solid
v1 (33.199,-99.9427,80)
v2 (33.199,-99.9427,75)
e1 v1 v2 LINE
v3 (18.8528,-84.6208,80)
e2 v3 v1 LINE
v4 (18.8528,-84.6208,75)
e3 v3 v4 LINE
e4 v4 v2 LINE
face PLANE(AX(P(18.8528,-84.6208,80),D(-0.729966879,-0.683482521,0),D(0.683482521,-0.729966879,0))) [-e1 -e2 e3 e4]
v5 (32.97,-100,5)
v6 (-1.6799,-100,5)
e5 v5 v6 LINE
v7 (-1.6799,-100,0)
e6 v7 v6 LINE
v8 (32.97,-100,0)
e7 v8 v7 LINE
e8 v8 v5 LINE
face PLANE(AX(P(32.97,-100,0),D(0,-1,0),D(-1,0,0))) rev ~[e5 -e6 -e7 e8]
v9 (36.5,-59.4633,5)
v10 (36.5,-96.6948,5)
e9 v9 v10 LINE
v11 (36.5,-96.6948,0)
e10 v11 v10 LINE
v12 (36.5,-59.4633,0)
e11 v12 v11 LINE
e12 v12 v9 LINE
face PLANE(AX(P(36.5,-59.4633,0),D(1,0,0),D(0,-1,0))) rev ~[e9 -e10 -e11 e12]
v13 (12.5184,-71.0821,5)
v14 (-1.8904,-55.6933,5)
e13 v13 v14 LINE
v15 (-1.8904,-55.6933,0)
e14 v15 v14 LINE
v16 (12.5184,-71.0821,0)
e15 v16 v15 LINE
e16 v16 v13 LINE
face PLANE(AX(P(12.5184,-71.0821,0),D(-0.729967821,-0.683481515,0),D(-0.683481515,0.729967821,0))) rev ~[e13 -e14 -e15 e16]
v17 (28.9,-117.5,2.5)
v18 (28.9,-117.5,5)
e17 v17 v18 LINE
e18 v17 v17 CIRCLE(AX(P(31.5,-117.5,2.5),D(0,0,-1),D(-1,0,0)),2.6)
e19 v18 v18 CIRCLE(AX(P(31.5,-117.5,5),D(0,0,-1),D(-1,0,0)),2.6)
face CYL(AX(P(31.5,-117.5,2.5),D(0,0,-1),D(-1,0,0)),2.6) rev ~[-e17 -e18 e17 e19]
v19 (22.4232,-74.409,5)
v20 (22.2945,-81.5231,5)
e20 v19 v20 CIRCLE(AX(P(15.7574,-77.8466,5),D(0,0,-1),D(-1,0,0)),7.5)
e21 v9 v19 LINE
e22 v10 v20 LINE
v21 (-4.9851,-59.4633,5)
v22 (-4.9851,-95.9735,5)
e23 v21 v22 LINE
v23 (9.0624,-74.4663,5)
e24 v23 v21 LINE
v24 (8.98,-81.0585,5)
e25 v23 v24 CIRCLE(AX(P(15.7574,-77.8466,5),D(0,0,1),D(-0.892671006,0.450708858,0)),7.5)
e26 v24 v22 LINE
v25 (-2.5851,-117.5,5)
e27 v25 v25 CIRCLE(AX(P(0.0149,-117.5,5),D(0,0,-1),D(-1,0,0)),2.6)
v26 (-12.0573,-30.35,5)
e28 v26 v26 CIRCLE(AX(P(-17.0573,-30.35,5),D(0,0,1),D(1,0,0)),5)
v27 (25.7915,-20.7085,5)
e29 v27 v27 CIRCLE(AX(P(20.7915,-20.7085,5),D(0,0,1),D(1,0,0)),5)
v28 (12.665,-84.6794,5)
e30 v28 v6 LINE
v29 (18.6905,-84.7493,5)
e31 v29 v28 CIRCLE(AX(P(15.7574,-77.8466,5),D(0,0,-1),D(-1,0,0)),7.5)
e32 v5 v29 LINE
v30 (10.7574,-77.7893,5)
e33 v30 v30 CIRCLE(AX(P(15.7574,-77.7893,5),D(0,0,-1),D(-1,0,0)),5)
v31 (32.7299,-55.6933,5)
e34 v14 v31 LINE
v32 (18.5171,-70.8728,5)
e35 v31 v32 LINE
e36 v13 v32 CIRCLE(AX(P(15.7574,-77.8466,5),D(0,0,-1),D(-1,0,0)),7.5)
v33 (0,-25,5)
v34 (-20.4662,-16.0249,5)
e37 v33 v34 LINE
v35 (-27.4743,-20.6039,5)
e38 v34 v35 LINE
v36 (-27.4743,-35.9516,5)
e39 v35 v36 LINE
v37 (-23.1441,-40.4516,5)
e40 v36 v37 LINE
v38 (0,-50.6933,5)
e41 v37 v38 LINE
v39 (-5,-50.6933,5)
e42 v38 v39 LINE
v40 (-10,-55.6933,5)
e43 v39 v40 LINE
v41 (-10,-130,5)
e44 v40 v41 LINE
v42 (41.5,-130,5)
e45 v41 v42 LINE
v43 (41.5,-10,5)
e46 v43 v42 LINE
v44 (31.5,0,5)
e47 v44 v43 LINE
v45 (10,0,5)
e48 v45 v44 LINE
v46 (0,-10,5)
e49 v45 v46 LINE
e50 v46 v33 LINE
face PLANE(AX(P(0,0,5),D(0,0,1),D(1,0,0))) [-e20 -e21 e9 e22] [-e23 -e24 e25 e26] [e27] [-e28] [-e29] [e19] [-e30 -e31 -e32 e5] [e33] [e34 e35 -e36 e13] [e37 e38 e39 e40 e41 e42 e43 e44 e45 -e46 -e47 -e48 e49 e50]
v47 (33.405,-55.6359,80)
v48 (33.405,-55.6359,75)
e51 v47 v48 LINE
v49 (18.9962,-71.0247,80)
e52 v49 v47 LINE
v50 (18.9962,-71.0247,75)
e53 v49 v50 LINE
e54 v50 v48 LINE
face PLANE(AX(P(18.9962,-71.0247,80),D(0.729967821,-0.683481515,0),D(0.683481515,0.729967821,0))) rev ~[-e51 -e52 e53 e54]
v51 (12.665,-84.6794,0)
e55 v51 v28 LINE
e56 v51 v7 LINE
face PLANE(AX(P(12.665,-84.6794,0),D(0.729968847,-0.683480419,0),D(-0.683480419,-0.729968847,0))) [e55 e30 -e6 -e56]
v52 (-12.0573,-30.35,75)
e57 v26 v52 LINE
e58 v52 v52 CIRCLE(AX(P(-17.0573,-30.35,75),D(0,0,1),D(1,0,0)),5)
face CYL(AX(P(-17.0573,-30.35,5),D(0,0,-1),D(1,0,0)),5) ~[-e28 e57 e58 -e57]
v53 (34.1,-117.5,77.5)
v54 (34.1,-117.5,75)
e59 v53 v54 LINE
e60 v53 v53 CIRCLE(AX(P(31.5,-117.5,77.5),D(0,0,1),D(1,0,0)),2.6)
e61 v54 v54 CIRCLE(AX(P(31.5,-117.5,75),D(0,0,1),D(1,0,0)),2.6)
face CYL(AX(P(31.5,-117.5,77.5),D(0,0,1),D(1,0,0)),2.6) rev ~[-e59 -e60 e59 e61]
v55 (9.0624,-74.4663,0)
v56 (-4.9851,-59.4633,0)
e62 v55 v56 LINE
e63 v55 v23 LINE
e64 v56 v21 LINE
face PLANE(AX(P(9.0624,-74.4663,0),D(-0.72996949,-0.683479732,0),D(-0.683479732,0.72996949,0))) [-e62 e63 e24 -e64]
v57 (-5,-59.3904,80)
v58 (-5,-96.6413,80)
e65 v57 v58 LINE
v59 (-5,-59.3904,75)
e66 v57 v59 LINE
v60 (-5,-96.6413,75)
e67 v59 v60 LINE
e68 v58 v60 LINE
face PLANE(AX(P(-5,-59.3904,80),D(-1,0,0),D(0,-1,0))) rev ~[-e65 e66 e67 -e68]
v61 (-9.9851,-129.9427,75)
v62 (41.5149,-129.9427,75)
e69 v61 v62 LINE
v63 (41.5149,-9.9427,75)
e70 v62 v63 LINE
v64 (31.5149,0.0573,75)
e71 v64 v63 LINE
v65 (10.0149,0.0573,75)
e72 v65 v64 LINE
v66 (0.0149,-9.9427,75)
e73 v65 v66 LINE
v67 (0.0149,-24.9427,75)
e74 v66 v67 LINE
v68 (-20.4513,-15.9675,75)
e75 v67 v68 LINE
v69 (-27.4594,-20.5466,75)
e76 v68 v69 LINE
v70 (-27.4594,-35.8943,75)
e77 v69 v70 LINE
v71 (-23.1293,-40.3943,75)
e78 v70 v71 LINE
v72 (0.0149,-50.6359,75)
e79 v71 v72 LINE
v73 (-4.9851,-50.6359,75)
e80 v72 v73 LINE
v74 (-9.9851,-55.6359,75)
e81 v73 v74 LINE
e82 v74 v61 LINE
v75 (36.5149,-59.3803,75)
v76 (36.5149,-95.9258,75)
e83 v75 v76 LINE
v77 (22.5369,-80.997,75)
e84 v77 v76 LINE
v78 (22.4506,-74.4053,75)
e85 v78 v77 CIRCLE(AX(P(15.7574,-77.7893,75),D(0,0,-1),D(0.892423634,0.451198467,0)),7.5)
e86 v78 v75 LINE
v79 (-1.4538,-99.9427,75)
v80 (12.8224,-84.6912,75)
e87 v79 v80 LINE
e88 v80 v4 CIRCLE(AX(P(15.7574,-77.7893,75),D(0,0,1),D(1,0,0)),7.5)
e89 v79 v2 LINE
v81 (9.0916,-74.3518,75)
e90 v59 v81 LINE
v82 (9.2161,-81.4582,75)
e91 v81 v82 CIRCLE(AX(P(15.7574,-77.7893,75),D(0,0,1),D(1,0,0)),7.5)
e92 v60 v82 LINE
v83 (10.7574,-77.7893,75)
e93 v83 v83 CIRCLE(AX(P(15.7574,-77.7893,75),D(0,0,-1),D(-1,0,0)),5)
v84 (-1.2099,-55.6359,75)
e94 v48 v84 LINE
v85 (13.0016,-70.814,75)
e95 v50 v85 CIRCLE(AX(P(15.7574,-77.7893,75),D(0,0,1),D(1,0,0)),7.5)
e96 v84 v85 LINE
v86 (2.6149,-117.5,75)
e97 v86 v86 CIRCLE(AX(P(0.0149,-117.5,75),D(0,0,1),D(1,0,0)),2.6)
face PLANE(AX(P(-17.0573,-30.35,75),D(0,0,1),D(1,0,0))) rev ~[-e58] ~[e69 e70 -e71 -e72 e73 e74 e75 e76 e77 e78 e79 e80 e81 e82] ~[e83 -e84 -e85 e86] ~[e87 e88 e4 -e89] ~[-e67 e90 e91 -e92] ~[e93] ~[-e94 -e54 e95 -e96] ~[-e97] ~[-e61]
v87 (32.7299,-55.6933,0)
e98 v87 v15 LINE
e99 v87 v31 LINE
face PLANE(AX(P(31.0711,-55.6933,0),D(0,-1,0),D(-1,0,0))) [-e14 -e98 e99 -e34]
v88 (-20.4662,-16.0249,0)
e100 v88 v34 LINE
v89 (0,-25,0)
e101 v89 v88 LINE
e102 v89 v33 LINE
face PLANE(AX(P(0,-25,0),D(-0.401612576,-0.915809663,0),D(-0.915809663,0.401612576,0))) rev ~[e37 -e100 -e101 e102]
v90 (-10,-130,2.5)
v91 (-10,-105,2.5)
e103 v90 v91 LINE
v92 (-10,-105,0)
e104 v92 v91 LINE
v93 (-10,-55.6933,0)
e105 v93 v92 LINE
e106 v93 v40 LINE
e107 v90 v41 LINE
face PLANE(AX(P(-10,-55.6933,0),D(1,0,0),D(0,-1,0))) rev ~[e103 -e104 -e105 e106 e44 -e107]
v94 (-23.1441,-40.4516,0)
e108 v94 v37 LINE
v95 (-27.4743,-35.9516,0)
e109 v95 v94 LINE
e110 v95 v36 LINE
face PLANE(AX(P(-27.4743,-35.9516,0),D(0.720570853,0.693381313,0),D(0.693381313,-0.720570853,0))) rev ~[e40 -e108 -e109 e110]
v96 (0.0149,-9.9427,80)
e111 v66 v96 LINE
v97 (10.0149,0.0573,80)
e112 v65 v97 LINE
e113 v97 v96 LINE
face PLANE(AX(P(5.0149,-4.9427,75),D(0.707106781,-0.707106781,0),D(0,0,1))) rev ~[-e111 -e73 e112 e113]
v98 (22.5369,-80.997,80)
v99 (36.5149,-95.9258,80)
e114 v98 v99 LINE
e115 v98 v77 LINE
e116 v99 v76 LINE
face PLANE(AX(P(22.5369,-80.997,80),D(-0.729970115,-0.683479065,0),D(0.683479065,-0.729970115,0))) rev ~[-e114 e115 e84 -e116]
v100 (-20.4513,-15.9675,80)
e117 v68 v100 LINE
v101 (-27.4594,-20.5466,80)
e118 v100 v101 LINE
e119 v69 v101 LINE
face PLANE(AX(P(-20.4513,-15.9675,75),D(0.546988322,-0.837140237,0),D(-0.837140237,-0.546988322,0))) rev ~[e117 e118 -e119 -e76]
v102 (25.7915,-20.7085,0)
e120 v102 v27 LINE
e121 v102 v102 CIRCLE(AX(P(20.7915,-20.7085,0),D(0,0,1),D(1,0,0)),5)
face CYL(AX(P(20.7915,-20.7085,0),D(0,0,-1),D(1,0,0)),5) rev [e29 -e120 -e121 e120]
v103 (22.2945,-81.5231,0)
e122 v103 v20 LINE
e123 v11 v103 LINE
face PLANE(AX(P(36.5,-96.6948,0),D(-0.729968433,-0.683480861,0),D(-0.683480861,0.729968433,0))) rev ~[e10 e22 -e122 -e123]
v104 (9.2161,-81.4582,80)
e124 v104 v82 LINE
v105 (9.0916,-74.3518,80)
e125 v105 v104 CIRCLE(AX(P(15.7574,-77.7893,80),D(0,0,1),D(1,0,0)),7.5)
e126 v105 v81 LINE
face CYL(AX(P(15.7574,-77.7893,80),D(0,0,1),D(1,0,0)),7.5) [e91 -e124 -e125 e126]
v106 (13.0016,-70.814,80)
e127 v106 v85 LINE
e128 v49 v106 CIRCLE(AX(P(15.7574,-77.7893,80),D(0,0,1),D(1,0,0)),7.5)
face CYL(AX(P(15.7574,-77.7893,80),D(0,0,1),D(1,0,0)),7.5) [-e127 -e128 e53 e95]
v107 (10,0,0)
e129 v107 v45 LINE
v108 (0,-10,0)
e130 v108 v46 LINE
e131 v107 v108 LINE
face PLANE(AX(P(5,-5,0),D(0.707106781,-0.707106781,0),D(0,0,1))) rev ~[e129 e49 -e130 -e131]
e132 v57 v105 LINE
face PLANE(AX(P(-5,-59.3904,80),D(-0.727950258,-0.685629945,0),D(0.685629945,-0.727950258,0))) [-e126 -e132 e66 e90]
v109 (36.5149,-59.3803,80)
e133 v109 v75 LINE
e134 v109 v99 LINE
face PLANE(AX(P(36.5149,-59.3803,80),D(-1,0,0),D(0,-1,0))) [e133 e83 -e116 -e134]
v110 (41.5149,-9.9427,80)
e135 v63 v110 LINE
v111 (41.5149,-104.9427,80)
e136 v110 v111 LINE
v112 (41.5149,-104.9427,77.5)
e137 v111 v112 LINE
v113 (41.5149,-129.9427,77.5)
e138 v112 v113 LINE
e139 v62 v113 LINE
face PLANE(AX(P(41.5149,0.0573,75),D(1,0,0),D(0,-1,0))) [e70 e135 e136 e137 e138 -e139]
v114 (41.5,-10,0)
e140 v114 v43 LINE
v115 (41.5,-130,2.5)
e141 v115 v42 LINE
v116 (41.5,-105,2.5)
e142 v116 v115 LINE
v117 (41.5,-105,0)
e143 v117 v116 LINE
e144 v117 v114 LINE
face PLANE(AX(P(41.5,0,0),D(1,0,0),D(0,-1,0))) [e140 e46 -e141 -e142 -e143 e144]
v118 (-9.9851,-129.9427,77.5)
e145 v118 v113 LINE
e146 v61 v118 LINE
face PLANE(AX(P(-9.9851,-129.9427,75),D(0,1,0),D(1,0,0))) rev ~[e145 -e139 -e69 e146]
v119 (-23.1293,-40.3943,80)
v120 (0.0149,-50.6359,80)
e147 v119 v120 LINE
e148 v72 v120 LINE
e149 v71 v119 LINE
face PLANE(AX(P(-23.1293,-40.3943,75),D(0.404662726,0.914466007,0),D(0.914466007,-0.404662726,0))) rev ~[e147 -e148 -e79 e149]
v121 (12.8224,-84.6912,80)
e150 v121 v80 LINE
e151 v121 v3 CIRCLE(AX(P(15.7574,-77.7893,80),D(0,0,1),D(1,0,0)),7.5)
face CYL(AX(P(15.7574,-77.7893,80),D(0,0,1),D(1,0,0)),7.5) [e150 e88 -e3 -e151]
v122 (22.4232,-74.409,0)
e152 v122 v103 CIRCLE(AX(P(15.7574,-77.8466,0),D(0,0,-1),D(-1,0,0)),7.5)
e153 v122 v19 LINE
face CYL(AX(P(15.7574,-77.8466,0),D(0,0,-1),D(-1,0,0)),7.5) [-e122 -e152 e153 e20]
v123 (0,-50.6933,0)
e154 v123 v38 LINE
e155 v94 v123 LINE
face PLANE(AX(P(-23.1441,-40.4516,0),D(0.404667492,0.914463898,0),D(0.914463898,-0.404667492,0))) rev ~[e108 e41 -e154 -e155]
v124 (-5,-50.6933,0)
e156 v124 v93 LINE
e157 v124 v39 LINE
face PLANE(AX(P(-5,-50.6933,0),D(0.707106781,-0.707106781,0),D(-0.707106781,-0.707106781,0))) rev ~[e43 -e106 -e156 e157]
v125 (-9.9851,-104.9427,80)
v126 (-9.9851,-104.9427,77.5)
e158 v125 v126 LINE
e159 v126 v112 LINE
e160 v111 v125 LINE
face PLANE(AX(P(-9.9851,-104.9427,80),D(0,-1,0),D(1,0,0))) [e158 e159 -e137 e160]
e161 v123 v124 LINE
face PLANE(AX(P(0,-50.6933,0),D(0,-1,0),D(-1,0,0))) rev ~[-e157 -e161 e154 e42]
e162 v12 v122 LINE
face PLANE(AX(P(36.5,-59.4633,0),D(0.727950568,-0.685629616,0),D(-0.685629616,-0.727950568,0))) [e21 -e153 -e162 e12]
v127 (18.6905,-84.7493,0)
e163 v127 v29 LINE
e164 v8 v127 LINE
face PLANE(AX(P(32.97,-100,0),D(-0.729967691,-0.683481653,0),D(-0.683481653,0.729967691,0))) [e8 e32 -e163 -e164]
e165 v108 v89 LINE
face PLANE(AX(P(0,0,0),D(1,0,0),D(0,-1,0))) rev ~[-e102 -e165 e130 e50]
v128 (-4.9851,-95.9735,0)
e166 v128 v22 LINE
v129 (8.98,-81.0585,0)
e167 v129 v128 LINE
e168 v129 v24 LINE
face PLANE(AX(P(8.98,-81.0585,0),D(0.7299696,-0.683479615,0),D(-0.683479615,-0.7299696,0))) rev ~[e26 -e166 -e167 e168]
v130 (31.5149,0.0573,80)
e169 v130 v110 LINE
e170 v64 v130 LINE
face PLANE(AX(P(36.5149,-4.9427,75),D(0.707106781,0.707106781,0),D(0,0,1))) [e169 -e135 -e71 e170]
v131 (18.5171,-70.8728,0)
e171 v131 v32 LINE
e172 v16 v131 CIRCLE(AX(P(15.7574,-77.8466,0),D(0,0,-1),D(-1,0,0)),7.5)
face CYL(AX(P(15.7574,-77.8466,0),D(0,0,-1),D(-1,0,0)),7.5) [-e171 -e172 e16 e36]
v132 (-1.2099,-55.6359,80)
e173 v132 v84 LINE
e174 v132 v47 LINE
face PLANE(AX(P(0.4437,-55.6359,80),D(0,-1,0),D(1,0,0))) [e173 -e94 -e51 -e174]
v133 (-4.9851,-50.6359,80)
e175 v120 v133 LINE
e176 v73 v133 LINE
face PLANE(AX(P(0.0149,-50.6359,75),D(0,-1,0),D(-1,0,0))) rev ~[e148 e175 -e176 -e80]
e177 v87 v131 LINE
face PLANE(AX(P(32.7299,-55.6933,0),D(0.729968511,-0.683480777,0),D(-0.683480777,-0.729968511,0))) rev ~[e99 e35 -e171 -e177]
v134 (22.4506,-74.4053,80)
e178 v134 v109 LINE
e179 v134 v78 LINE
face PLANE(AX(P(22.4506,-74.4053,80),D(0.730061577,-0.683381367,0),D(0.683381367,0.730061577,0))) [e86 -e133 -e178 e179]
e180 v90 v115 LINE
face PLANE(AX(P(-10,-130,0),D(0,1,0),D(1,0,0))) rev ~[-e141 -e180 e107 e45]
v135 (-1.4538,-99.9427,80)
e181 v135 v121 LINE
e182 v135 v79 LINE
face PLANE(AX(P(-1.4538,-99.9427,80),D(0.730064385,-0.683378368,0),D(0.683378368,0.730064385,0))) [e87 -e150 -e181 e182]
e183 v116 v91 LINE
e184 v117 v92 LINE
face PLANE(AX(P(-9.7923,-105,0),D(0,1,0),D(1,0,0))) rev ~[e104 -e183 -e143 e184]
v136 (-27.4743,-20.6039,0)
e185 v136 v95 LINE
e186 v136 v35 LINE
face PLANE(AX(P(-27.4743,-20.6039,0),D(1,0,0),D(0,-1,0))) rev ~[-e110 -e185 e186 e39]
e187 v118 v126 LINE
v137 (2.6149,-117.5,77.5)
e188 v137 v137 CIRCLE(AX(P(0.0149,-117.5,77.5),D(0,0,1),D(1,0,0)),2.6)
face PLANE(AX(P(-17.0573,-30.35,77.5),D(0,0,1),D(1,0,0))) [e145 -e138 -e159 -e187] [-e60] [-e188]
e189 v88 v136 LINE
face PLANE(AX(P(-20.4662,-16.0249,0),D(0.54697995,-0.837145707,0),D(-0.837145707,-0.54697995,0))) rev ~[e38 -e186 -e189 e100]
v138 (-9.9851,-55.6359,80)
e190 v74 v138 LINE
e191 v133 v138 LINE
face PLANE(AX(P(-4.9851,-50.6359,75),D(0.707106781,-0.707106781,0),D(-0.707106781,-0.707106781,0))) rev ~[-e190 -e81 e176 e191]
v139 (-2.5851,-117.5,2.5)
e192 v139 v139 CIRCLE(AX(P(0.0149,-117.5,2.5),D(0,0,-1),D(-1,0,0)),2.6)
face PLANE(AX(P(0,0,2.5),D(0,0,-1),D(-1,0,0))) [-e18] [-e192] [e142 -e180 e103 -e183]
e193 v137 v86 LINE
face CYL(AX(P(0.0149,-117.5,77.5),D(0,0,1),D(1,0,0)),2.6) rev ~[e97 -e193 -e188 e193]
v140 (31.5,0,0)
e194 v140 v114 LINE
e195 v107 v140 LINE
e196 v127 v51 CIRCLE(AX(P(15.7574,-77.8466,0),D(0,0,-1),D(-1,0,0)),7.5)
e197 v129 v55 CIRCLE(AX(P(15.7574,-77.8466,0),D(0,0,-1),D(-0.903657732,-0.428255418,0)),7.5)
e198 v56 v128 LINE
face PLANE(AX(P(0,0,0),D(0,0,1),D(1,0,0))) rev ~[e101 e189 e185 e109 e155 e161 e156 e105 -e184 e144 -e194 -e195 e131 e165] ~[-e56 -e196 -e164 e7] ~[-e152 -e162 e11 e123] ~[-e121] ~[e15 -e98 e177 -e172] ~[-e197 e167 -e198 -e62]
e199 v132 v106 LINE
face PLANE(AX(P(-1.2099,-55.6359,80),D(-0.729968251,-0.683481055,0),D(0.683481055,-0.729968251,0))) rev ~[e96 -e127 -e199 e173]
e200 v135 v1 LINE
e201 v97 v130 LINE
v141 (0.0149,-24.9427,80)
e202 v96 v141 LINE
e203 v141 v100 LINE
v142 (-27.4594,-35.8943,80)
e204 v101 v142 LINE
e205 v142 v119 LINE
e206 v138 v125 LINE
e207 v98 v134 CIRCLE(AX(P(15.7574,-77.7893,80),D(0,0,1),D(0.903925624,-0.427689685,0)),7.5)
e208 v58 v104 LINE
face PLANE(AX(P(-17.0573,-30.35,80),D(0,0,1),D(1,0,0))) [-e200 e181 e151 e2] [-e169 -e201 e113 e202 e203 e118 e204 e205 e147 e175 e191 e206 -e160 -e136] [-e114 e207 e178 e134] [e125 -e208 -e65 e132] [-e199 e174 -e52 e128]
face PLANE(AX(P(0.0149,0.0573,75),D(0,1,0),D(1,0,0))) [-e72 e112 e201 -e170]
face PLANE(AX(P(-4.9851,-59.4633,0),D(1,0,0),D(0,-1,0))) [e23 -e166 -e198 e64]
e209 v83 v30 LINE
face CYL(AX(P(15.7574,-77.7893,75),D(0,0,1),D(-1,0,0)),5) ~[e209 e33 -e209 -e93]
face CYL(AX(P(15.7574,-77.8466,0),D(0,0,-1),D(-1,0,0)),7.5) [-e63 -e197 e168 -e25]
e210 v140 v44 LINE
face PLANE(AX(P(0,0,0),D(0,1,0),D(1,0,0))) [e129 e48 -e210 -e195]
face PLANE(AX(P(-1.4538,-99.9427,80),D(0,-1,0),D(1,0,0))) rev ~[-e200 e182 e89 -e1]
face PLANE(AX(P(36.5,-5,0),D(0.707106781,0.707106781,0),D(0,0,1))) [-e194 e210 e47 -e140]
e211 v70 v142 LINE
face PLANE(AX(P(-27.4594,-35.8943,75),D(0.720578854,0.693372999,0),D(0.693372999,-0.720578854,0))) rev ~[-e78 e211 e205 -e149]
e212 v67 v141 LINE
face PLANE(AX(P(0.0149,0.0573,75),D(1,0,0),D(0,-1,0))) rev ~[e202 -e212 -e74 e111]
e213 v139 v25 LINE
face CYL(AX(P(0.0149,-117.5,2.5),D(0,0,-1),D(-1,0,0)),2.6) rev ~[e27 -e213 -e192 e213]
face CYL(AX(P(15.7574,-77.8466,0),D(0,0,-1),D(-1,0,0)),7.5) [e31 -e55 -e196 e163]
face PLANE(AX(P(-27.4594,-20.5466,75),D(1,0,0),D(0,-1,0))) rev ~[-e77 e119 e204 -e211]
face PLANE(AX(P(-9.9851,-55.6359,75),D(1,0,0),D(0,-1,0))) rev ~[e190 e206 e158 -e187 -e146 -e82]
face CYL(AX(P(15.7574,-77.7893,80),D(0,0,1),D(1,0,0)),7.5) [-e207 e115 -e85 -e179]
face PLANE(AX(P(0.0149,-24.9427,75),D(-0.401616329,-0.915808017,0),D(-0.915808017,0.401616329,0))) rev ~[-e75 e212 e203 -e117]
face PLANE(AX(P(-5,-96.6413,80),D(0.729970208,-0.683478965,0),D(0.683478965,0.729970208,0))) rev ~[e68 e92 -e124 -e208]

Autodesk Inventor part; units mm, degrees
ref_plane "YZ Plane" through (0, 0, 0) normal (1, 0, 0) x (0, 1, 0)
ref_plane "XZ Plane" through (0, 0, 0) normal (0, 1, 0) x (-1, 0, 0)
ref_plane "XY Plane" through (0, 0, 0) normal (0, 0, 1) x (1, 0, 0)
sketch "Esquisse2" plane through (0, 0, 0) normal (0, 0, 1) x (1, 0, 0)
  line L0 (0, 0) -> (41.5, 0)
  line L1 (41.5, 0) -> (41.5, -41.5)
  line L2 (0, 0) -> (41.5, -41.5) construction
  circle A0 centre (20.7915, -20.7085) radius 5
  line L3 (0, -25) -> (-20.4662, -16.0249)
  line L4 (-27.4743, -20.6039) -> (-27.4743, -35.9516)
  line L5 (-27.4743, -35.9516) -> (-23.1441, -40.4516)
  line L6 (0, 0) -> (0, -25)
  line L7 (-23.1441, -40.4516) -> (0, -50.6933)
  line L8 (-20.4662, -16.0249) -> (-27.4743, -20.6039)
  line L9 (41.5, -41.5) -> (41.5, -50.6933)
  line L10 (0, -50.6933) -> (-5, -50.6933)
  line L11 (-10, -55.6933) -> (-10, -130)
  line L12 (-10, -130) -> (41.5, -130)
  line L13 (41.5, -130) -> (41.5, -50.6933)
  line L14 (-5, -50.6933) -> (-10, -55.6933)
  point P0 (-10, -50.6933)
  dimension "d0" = 41.5
  dimension "d1" = 41.5
  dimension "d2" = 10
  dimension "d32" = 25
  dimension "d45" = 10
  dimension "d46" = 5
  dimension "d47" = 5
  dimension "d48" = 130
extrude "Extrusion3" add sketch "Esquisse2" along normal blind 5
sketch "Esquisse4" plane through (0, 0, 5) normal (0, 0, 1) x (1, 0, 0)
  circle A0 centre (-17.0573, -30.35) radius 5
  line L0 (0, -25) -> (-20.4662, -16.0249) projected
  point P0 (0, 0)
  dimension "d53" = 10
  dimension "d54" = 11.75
extrude "Extrusion4" add sketch "Esquisse4" along normal blind 70
sketch "Esquisse5" plane through (-17.0573, -30.35, 75) normal (0, 0, 1) x (1, 0, 0)
  line L0 (17.0722, 30.4073) -> (58.5722, 30.4073)
  line L1 (58.5722, 30.4073) -> (58.5722, -11.0927)
  line L2 (17.0722, 5.4073) -> (-3.394, 14.3825)
  line L3 (-10.4021, 9.8034) -> (-10.4021, -5.5443)
  line L4 (-10.4021, -5.5443) -> (-6.072, -10.0443)
  line L5 (17.0722, 30.4073) -> (17.0722, 5.4073)
  line L6 (-6.072, -10.0443) -> (17.0722, -20.2859)
  line L7 (-3.394, 14.3825) -> (-10.4021, 9.8034)
  line L8 (58.5722, -11.0927) -> (58.5722, -20.2859)
  line L9 (17.0722, -20.2859) -> (12.0722, -20.2859)
  line L10 (7.0722, -25.2859) -> (7.0722, -99.5927)
  line L11 (7.0722, -99.5927) -> (58.5722, -99.5927)
  line L12 (58.5722, -99.5927) -> (58.5722, -20.2859)
  line L13 (12.0722, -20.2859) -> (7.0722, -25.2859)
  point P0 (17.0573, 30.35)
  point P1 (7.0722, -20.2859)
  dimension "d57" = 41.5
  dimension "d58" = 41.5
  dimension "d60" = 25
  dimension "d61" = 10
  dimension "d62" = 5
  dimension "d63" = 5
  dimension "d64" = 130
chamfer "Chanfrein7" distance 10 angle 45 1 edges at (0, 0, 2.5)
chamfer "Chanfrein8" distance 10 angle 45 1 edges at (41.5, 0, 2.5)
extrude "Extrusion6" add sketch "Esquisse5" along normal blind 5
chamfer "Chanfrein9" distance 10 angle 45 1 edges at (41.5149, 0.0573, 77.5)
chamfer "Chanfrein10" distance 10 angle 45 1 edges at (0.0149, 0.0573, 77.5)
sketch "Esquisse6" plane through (0, 0, 0) normal (0, 0, -1) x (-1, 0, 0)
  line L0 (-41.5, -130) -> (9.9851, -130)
  line L1 (10, -105) -> (-41.5, -105)
  line L2 (-41.5, -105) -> (-41.5, -130)
  line L3 (9.7923, -105) -> (10, -105)
  line L4 (10, -130) -> (-41.5, -130) projected
  line L5 (9.8887, -130) -> (10, -130)
  line L6 (10, -130) -> (10, -55.6933) projected
  line L7 (10, -105) -> (10, -130)
  point P0 (0, 0)
  dimension "d87" = 25
extrude "Extrusion7" cut sketch "Esquisse6" against normal blind 2.5
sketch "Esquisse7" plane through (0, 0, 2.5) normal (0, 0, -1) x (-1, 0, 0)
  circle A0 centre (-31.5, -117.5) radius 2.6
  line L0 (-41.5, -130) -> (-41.5, -105) projected
  line L1 (-41.5, -105) -> (10, -105) projected
  circle A1 centre (-0.0149, -117.5) radius 2.6
  line L2 (9.9851, -105) -> (9.9851, -130) projected
  point P0 (0, 0)
  dimension "d96" = 5.2
  dimension "d97" = 10
  dimension "d98" = 12.5
  dimension "d99" = 5.2
  dimension "d100" = 10
extrude "Extrusion8" cut sketch "Esquisse7" against normal blind 2.5
sketch "Esquisse8" plane through (-17.0573, -30.35, 80) normal (0, 0, 1) x (1, 0, 0)
  line L0 (58.5573, -99.65) -> (58.5573, 20.35) projected
  line L1 (58.5573, -99.5927) -> (58.5573, -99.65)
  line L2 (7.0722, -99.65) -> (7.0722, -99.5927)
  line L3 (58.5722, -99.5927) -> (7.0722, -99.5927) projected
  line L4 (58.5722, -99.5927) -> (7.0722, -99.5927)
  line L5 (7.0722, -99.5927) -> (7.0722, -74.5927)
  line L6 (7.0722, -74.5927) -> (58.5722, -74.5927)
  line L7 (58.5722, -74.5927) -> (58.5722, -99.5927)
  point P0 (17.0573, 30.35)
  dimension "d103" = 25
extrude "Extrusion10" cut sketch "Esquisse8" against normal blind 2.5
sketch "Esquisse9" plane through (-17.0573, -30.35, 77.5) normal (0, 0, 1) x (1, 0, 0)
  circle A0 centre (17.0722, -87.15) radius 2.6 projected
  circle A1 centre (17.0722, -87.15) radius 2.6
  circle A2 centre (48.5573, -87.15) radius 2.6 projected
  circle A3 centre (48.5573, -87.15) radius 2.6
  point P0 (17.0573, 30.35)
extrude "Extrusion11" cut sketch "Esquisse9" against normal blind 2.5
sketch "Esquisse10" plane through (0, 0, 0) normal (0, 0, -1) x (-1, 0, 0)
  line L0 (0, -50.6933) -> (9.9851, -50.6933) construction
  line L1 (9.9851, -50.6933) -> (9.9851, -105) construction
  line L2 (0, -50.6933) -> (-41.5, -50.6933) construction
  line L3 (-41.5, -10) -> (-41.5, -105) construction
  line L4 (-41.5, -105) -> (-41.5, -50.6933) construction
  line L5 (-31.0711, -55.6933) -> (4.9851, -55.6933)
  line L6 (4.9851, -55.6933) -> (4.9851, -100)
  line L7 (-31.0711, -55.6933) -> (-36.5, -55.6933)
  line L8 (-36.5, -55.6933) -> (-36.5, -59.2233) construction
  line L9 (-36.5, -55.6933) -> (-33.2298, -55.6933) construction
  line L10 (-41.5, -105) -> (9.9851, -105) construction
  line L11 (-36.5, -55.6933) -> (-36.5, -100)
  line L12 (-36.5, -100) -> (4.9851, -100)
  line L13 (-36.5, -55.6933) -> (4.9851, -100) construction
  line L14 (4.9851, -55.6933) -> (-36.5, -100) construction
  circle A0 centre (-15.7574, -77.8466) radius 7.5
  line L15 (-36.5, -100) -> (-36.5, -96.47) construction
  line L16 (-36.5, -100) -> (-32.97, -100) construction
  line L17 (-32.97, -100) -> (-18.6905, -84.7493)
  line L18 (-9.0624, -74.4663) -> (4.9851, -59.4633)
  line L19 (-12.5184, -71.0821) -> (1.8904, -55.6933)
  line L20 (-12.665, -84.6794) -> (1.6799, -100)
  line L21 (-8.98, -81.0585) -> (4.9851, -95.9735)
  line L22 (-36.5, -59.2233) -> (-36.5, -96.6948)
  line L23 (-32.7299, -55.6933) -> (1.8904, -55.6933)
  line L24 (4.9851, -59.4633) -> (4.9851, -95.9735)
  line L25 (1.6799, -100) -> (-32.97, -100)
  line L26 (-32.7299, -55.6933) -> (-18.5171, -70.8728)
  line L27 (-36.5, -59.4633) -> (-22.4232, -74.409)
  line L28 (-36.5, -96.6948) -> (-22.2945, -81.5231)
  point P0 (0, 0)
  point P1 (9.9851, -104.9427)
  point P2 (-41.5149, -104.9427)
  dimension "d57" = 41.5
  dimension "d58" = 41.5
  dimension "d60" = 25
  dimension "d61" = 10
  dimension "d62" = 5
  dimension "d63" = 5
  dimension "d64" = 130
  dimension "d118" = 15
  dimension "d110" = 5
  dimension "d111" = 5
  dimension "d116" = 5
  dimension "d117" = 5
extrude "Extrusion12" cut sketch "Esquisse10" against normal blind 5 contours L5 L19 A0 L26 L7 | L6 L21 A0 L18 | A0 L28 L11 L27 | A0 L20 L12 L17
sketch "Esquisse11" plane through (-17.0573, -30.35, 80) normal (0, 0, 1) x (1, 0, 0)
  line L0 (48.5721, -20.2859) -> (58.5722, -20.2859) construction
  line L1 (58.5722, -20.2859) -> (58.5722, -74.5927) construction
  line L2 (48.5721, -20.2859) -> (7.0573, -20.2859) construction
  line L3 (17.501, -25.2859) -> (53.5722, -25.2859)
  line L4 (53.5722, -25.2859) -> (53.5722, -69.5927)
  line L5 (17.501, -25.2859) -> (12.0573, -25.2859)
  line L6 (12.0573, -25.2859) -> (12.0573, -28.8108) construction
  line L7 (12.0573, -25.2859) -> (15.3423, -25.2859) construction
  line L8 (7.0573, -74.5927) -> (58.5722, -74.5927) construction
  line L9 (12.0573, -25.2859) -> (12.0573, -69.5927)
  line L10 (12.0573, -69.5927) -> (53.5722, -69.5927)
  line L11 (12.0573, -25.2859) -> (53.5722, -69.5927) construction
  line L12 (53.5722, -25.2859) -> (12.0573, -69.5927) construction
  circle A0 centre (32.8147, -47.4393) radius 7.5
  line L13 (12.0573, -69.5927) -> (12.0573, -66.0575) construction
  line L14 (12.0573, -69.5927) -> (15.6035, -69.5927) construction
  line L15 (15.6035, -69.5927) -> (29.8797, -54.3412)
  line L16 (39.5079, -44.0553) -> (53.5722, -29.0303)
  line L17 (36.0535, -40.6747) -> (50.4623, -25.2859)
  line L18 (35.9101, -54.2708) -> (50.2563, -69.5927)
  line L19 (39.5942, -50.647) -> (53.5722, -65.5758)
  line L20 (12.0573, -28.8108) -> (12.0573, -66.2913)
  line L21 (15.8474, -25.2859) -> (50.4623, -25.2859)
  line L22 (53.5722, -29.0303) -> (53.5722, -65.5758)
  line L23 (50.2563, -69.5927) -> (15.6035, -69.5927)
  line L24 (15.8474, -25.2859) -> (30.0589, -40.464)
  line L25 (12.0573, -29.0404) -> (26.1489, -44.0018)
  line L26 (12.0573, -66.2913) -> (26.2734, -51.1082)
  line L27 (58.5722, -74.5927) -> (58.5722, 20.4073) projected
  line L28 (7.0722, -74.5927) -> (58.5722, -74.5927) projected
  line L29 (17.0722, -20.2859) -> (12.0722, -20.2859) projected
  line L30 (7.0722, -25.2859) -> (7.0722, -74.5927) projected
  line L31 (12.0573, -29.0404) -> (12.0573, -66.2913)
  point P0 (17.0573, 30.35)
  point P1 (0, 0)
  point P2 (58.5572, -74.5302)
  point P3 (7.0572, -74.5302)
  dimension "d127" = 15
  dimension "d123" = 5
  dimension "d124" = 5
  dimension "d126" = 5
  dimension "d128" = 0
  dimension "d129" = 0
  dimension "d130" = 0
extrude "Extrusion13" cut sketch "Esquisse11" against normal blind 5 contours L3 L17 A0 L24 L5 | L4 L19 A0 L16 | A0 L26 L9 L25 | A0 L18 L10 L15
sketch "Esquisse14" plane through (-17.0573, -30.35, 75) normal (0, 0, -1) x (-1, 0, 0)
  arc A0 (-39.5079, -44.0553) -> (-39.5942, -50.647) centre (-32.8147, -47.4393) ccw projected
  circle A1 centre (-32.8147, -47.4393) radius 5
  point P0 (-17.0573, 30.35)
  dimension "d136" = 10
extrude "Extrusion14" add sketch "Esquisse14" along normal blind 70
equation "\"d47\" = d46"
equation "\"d63\" = d62"
properties part number "Forearm1 v2" material "Plastique ABS"
